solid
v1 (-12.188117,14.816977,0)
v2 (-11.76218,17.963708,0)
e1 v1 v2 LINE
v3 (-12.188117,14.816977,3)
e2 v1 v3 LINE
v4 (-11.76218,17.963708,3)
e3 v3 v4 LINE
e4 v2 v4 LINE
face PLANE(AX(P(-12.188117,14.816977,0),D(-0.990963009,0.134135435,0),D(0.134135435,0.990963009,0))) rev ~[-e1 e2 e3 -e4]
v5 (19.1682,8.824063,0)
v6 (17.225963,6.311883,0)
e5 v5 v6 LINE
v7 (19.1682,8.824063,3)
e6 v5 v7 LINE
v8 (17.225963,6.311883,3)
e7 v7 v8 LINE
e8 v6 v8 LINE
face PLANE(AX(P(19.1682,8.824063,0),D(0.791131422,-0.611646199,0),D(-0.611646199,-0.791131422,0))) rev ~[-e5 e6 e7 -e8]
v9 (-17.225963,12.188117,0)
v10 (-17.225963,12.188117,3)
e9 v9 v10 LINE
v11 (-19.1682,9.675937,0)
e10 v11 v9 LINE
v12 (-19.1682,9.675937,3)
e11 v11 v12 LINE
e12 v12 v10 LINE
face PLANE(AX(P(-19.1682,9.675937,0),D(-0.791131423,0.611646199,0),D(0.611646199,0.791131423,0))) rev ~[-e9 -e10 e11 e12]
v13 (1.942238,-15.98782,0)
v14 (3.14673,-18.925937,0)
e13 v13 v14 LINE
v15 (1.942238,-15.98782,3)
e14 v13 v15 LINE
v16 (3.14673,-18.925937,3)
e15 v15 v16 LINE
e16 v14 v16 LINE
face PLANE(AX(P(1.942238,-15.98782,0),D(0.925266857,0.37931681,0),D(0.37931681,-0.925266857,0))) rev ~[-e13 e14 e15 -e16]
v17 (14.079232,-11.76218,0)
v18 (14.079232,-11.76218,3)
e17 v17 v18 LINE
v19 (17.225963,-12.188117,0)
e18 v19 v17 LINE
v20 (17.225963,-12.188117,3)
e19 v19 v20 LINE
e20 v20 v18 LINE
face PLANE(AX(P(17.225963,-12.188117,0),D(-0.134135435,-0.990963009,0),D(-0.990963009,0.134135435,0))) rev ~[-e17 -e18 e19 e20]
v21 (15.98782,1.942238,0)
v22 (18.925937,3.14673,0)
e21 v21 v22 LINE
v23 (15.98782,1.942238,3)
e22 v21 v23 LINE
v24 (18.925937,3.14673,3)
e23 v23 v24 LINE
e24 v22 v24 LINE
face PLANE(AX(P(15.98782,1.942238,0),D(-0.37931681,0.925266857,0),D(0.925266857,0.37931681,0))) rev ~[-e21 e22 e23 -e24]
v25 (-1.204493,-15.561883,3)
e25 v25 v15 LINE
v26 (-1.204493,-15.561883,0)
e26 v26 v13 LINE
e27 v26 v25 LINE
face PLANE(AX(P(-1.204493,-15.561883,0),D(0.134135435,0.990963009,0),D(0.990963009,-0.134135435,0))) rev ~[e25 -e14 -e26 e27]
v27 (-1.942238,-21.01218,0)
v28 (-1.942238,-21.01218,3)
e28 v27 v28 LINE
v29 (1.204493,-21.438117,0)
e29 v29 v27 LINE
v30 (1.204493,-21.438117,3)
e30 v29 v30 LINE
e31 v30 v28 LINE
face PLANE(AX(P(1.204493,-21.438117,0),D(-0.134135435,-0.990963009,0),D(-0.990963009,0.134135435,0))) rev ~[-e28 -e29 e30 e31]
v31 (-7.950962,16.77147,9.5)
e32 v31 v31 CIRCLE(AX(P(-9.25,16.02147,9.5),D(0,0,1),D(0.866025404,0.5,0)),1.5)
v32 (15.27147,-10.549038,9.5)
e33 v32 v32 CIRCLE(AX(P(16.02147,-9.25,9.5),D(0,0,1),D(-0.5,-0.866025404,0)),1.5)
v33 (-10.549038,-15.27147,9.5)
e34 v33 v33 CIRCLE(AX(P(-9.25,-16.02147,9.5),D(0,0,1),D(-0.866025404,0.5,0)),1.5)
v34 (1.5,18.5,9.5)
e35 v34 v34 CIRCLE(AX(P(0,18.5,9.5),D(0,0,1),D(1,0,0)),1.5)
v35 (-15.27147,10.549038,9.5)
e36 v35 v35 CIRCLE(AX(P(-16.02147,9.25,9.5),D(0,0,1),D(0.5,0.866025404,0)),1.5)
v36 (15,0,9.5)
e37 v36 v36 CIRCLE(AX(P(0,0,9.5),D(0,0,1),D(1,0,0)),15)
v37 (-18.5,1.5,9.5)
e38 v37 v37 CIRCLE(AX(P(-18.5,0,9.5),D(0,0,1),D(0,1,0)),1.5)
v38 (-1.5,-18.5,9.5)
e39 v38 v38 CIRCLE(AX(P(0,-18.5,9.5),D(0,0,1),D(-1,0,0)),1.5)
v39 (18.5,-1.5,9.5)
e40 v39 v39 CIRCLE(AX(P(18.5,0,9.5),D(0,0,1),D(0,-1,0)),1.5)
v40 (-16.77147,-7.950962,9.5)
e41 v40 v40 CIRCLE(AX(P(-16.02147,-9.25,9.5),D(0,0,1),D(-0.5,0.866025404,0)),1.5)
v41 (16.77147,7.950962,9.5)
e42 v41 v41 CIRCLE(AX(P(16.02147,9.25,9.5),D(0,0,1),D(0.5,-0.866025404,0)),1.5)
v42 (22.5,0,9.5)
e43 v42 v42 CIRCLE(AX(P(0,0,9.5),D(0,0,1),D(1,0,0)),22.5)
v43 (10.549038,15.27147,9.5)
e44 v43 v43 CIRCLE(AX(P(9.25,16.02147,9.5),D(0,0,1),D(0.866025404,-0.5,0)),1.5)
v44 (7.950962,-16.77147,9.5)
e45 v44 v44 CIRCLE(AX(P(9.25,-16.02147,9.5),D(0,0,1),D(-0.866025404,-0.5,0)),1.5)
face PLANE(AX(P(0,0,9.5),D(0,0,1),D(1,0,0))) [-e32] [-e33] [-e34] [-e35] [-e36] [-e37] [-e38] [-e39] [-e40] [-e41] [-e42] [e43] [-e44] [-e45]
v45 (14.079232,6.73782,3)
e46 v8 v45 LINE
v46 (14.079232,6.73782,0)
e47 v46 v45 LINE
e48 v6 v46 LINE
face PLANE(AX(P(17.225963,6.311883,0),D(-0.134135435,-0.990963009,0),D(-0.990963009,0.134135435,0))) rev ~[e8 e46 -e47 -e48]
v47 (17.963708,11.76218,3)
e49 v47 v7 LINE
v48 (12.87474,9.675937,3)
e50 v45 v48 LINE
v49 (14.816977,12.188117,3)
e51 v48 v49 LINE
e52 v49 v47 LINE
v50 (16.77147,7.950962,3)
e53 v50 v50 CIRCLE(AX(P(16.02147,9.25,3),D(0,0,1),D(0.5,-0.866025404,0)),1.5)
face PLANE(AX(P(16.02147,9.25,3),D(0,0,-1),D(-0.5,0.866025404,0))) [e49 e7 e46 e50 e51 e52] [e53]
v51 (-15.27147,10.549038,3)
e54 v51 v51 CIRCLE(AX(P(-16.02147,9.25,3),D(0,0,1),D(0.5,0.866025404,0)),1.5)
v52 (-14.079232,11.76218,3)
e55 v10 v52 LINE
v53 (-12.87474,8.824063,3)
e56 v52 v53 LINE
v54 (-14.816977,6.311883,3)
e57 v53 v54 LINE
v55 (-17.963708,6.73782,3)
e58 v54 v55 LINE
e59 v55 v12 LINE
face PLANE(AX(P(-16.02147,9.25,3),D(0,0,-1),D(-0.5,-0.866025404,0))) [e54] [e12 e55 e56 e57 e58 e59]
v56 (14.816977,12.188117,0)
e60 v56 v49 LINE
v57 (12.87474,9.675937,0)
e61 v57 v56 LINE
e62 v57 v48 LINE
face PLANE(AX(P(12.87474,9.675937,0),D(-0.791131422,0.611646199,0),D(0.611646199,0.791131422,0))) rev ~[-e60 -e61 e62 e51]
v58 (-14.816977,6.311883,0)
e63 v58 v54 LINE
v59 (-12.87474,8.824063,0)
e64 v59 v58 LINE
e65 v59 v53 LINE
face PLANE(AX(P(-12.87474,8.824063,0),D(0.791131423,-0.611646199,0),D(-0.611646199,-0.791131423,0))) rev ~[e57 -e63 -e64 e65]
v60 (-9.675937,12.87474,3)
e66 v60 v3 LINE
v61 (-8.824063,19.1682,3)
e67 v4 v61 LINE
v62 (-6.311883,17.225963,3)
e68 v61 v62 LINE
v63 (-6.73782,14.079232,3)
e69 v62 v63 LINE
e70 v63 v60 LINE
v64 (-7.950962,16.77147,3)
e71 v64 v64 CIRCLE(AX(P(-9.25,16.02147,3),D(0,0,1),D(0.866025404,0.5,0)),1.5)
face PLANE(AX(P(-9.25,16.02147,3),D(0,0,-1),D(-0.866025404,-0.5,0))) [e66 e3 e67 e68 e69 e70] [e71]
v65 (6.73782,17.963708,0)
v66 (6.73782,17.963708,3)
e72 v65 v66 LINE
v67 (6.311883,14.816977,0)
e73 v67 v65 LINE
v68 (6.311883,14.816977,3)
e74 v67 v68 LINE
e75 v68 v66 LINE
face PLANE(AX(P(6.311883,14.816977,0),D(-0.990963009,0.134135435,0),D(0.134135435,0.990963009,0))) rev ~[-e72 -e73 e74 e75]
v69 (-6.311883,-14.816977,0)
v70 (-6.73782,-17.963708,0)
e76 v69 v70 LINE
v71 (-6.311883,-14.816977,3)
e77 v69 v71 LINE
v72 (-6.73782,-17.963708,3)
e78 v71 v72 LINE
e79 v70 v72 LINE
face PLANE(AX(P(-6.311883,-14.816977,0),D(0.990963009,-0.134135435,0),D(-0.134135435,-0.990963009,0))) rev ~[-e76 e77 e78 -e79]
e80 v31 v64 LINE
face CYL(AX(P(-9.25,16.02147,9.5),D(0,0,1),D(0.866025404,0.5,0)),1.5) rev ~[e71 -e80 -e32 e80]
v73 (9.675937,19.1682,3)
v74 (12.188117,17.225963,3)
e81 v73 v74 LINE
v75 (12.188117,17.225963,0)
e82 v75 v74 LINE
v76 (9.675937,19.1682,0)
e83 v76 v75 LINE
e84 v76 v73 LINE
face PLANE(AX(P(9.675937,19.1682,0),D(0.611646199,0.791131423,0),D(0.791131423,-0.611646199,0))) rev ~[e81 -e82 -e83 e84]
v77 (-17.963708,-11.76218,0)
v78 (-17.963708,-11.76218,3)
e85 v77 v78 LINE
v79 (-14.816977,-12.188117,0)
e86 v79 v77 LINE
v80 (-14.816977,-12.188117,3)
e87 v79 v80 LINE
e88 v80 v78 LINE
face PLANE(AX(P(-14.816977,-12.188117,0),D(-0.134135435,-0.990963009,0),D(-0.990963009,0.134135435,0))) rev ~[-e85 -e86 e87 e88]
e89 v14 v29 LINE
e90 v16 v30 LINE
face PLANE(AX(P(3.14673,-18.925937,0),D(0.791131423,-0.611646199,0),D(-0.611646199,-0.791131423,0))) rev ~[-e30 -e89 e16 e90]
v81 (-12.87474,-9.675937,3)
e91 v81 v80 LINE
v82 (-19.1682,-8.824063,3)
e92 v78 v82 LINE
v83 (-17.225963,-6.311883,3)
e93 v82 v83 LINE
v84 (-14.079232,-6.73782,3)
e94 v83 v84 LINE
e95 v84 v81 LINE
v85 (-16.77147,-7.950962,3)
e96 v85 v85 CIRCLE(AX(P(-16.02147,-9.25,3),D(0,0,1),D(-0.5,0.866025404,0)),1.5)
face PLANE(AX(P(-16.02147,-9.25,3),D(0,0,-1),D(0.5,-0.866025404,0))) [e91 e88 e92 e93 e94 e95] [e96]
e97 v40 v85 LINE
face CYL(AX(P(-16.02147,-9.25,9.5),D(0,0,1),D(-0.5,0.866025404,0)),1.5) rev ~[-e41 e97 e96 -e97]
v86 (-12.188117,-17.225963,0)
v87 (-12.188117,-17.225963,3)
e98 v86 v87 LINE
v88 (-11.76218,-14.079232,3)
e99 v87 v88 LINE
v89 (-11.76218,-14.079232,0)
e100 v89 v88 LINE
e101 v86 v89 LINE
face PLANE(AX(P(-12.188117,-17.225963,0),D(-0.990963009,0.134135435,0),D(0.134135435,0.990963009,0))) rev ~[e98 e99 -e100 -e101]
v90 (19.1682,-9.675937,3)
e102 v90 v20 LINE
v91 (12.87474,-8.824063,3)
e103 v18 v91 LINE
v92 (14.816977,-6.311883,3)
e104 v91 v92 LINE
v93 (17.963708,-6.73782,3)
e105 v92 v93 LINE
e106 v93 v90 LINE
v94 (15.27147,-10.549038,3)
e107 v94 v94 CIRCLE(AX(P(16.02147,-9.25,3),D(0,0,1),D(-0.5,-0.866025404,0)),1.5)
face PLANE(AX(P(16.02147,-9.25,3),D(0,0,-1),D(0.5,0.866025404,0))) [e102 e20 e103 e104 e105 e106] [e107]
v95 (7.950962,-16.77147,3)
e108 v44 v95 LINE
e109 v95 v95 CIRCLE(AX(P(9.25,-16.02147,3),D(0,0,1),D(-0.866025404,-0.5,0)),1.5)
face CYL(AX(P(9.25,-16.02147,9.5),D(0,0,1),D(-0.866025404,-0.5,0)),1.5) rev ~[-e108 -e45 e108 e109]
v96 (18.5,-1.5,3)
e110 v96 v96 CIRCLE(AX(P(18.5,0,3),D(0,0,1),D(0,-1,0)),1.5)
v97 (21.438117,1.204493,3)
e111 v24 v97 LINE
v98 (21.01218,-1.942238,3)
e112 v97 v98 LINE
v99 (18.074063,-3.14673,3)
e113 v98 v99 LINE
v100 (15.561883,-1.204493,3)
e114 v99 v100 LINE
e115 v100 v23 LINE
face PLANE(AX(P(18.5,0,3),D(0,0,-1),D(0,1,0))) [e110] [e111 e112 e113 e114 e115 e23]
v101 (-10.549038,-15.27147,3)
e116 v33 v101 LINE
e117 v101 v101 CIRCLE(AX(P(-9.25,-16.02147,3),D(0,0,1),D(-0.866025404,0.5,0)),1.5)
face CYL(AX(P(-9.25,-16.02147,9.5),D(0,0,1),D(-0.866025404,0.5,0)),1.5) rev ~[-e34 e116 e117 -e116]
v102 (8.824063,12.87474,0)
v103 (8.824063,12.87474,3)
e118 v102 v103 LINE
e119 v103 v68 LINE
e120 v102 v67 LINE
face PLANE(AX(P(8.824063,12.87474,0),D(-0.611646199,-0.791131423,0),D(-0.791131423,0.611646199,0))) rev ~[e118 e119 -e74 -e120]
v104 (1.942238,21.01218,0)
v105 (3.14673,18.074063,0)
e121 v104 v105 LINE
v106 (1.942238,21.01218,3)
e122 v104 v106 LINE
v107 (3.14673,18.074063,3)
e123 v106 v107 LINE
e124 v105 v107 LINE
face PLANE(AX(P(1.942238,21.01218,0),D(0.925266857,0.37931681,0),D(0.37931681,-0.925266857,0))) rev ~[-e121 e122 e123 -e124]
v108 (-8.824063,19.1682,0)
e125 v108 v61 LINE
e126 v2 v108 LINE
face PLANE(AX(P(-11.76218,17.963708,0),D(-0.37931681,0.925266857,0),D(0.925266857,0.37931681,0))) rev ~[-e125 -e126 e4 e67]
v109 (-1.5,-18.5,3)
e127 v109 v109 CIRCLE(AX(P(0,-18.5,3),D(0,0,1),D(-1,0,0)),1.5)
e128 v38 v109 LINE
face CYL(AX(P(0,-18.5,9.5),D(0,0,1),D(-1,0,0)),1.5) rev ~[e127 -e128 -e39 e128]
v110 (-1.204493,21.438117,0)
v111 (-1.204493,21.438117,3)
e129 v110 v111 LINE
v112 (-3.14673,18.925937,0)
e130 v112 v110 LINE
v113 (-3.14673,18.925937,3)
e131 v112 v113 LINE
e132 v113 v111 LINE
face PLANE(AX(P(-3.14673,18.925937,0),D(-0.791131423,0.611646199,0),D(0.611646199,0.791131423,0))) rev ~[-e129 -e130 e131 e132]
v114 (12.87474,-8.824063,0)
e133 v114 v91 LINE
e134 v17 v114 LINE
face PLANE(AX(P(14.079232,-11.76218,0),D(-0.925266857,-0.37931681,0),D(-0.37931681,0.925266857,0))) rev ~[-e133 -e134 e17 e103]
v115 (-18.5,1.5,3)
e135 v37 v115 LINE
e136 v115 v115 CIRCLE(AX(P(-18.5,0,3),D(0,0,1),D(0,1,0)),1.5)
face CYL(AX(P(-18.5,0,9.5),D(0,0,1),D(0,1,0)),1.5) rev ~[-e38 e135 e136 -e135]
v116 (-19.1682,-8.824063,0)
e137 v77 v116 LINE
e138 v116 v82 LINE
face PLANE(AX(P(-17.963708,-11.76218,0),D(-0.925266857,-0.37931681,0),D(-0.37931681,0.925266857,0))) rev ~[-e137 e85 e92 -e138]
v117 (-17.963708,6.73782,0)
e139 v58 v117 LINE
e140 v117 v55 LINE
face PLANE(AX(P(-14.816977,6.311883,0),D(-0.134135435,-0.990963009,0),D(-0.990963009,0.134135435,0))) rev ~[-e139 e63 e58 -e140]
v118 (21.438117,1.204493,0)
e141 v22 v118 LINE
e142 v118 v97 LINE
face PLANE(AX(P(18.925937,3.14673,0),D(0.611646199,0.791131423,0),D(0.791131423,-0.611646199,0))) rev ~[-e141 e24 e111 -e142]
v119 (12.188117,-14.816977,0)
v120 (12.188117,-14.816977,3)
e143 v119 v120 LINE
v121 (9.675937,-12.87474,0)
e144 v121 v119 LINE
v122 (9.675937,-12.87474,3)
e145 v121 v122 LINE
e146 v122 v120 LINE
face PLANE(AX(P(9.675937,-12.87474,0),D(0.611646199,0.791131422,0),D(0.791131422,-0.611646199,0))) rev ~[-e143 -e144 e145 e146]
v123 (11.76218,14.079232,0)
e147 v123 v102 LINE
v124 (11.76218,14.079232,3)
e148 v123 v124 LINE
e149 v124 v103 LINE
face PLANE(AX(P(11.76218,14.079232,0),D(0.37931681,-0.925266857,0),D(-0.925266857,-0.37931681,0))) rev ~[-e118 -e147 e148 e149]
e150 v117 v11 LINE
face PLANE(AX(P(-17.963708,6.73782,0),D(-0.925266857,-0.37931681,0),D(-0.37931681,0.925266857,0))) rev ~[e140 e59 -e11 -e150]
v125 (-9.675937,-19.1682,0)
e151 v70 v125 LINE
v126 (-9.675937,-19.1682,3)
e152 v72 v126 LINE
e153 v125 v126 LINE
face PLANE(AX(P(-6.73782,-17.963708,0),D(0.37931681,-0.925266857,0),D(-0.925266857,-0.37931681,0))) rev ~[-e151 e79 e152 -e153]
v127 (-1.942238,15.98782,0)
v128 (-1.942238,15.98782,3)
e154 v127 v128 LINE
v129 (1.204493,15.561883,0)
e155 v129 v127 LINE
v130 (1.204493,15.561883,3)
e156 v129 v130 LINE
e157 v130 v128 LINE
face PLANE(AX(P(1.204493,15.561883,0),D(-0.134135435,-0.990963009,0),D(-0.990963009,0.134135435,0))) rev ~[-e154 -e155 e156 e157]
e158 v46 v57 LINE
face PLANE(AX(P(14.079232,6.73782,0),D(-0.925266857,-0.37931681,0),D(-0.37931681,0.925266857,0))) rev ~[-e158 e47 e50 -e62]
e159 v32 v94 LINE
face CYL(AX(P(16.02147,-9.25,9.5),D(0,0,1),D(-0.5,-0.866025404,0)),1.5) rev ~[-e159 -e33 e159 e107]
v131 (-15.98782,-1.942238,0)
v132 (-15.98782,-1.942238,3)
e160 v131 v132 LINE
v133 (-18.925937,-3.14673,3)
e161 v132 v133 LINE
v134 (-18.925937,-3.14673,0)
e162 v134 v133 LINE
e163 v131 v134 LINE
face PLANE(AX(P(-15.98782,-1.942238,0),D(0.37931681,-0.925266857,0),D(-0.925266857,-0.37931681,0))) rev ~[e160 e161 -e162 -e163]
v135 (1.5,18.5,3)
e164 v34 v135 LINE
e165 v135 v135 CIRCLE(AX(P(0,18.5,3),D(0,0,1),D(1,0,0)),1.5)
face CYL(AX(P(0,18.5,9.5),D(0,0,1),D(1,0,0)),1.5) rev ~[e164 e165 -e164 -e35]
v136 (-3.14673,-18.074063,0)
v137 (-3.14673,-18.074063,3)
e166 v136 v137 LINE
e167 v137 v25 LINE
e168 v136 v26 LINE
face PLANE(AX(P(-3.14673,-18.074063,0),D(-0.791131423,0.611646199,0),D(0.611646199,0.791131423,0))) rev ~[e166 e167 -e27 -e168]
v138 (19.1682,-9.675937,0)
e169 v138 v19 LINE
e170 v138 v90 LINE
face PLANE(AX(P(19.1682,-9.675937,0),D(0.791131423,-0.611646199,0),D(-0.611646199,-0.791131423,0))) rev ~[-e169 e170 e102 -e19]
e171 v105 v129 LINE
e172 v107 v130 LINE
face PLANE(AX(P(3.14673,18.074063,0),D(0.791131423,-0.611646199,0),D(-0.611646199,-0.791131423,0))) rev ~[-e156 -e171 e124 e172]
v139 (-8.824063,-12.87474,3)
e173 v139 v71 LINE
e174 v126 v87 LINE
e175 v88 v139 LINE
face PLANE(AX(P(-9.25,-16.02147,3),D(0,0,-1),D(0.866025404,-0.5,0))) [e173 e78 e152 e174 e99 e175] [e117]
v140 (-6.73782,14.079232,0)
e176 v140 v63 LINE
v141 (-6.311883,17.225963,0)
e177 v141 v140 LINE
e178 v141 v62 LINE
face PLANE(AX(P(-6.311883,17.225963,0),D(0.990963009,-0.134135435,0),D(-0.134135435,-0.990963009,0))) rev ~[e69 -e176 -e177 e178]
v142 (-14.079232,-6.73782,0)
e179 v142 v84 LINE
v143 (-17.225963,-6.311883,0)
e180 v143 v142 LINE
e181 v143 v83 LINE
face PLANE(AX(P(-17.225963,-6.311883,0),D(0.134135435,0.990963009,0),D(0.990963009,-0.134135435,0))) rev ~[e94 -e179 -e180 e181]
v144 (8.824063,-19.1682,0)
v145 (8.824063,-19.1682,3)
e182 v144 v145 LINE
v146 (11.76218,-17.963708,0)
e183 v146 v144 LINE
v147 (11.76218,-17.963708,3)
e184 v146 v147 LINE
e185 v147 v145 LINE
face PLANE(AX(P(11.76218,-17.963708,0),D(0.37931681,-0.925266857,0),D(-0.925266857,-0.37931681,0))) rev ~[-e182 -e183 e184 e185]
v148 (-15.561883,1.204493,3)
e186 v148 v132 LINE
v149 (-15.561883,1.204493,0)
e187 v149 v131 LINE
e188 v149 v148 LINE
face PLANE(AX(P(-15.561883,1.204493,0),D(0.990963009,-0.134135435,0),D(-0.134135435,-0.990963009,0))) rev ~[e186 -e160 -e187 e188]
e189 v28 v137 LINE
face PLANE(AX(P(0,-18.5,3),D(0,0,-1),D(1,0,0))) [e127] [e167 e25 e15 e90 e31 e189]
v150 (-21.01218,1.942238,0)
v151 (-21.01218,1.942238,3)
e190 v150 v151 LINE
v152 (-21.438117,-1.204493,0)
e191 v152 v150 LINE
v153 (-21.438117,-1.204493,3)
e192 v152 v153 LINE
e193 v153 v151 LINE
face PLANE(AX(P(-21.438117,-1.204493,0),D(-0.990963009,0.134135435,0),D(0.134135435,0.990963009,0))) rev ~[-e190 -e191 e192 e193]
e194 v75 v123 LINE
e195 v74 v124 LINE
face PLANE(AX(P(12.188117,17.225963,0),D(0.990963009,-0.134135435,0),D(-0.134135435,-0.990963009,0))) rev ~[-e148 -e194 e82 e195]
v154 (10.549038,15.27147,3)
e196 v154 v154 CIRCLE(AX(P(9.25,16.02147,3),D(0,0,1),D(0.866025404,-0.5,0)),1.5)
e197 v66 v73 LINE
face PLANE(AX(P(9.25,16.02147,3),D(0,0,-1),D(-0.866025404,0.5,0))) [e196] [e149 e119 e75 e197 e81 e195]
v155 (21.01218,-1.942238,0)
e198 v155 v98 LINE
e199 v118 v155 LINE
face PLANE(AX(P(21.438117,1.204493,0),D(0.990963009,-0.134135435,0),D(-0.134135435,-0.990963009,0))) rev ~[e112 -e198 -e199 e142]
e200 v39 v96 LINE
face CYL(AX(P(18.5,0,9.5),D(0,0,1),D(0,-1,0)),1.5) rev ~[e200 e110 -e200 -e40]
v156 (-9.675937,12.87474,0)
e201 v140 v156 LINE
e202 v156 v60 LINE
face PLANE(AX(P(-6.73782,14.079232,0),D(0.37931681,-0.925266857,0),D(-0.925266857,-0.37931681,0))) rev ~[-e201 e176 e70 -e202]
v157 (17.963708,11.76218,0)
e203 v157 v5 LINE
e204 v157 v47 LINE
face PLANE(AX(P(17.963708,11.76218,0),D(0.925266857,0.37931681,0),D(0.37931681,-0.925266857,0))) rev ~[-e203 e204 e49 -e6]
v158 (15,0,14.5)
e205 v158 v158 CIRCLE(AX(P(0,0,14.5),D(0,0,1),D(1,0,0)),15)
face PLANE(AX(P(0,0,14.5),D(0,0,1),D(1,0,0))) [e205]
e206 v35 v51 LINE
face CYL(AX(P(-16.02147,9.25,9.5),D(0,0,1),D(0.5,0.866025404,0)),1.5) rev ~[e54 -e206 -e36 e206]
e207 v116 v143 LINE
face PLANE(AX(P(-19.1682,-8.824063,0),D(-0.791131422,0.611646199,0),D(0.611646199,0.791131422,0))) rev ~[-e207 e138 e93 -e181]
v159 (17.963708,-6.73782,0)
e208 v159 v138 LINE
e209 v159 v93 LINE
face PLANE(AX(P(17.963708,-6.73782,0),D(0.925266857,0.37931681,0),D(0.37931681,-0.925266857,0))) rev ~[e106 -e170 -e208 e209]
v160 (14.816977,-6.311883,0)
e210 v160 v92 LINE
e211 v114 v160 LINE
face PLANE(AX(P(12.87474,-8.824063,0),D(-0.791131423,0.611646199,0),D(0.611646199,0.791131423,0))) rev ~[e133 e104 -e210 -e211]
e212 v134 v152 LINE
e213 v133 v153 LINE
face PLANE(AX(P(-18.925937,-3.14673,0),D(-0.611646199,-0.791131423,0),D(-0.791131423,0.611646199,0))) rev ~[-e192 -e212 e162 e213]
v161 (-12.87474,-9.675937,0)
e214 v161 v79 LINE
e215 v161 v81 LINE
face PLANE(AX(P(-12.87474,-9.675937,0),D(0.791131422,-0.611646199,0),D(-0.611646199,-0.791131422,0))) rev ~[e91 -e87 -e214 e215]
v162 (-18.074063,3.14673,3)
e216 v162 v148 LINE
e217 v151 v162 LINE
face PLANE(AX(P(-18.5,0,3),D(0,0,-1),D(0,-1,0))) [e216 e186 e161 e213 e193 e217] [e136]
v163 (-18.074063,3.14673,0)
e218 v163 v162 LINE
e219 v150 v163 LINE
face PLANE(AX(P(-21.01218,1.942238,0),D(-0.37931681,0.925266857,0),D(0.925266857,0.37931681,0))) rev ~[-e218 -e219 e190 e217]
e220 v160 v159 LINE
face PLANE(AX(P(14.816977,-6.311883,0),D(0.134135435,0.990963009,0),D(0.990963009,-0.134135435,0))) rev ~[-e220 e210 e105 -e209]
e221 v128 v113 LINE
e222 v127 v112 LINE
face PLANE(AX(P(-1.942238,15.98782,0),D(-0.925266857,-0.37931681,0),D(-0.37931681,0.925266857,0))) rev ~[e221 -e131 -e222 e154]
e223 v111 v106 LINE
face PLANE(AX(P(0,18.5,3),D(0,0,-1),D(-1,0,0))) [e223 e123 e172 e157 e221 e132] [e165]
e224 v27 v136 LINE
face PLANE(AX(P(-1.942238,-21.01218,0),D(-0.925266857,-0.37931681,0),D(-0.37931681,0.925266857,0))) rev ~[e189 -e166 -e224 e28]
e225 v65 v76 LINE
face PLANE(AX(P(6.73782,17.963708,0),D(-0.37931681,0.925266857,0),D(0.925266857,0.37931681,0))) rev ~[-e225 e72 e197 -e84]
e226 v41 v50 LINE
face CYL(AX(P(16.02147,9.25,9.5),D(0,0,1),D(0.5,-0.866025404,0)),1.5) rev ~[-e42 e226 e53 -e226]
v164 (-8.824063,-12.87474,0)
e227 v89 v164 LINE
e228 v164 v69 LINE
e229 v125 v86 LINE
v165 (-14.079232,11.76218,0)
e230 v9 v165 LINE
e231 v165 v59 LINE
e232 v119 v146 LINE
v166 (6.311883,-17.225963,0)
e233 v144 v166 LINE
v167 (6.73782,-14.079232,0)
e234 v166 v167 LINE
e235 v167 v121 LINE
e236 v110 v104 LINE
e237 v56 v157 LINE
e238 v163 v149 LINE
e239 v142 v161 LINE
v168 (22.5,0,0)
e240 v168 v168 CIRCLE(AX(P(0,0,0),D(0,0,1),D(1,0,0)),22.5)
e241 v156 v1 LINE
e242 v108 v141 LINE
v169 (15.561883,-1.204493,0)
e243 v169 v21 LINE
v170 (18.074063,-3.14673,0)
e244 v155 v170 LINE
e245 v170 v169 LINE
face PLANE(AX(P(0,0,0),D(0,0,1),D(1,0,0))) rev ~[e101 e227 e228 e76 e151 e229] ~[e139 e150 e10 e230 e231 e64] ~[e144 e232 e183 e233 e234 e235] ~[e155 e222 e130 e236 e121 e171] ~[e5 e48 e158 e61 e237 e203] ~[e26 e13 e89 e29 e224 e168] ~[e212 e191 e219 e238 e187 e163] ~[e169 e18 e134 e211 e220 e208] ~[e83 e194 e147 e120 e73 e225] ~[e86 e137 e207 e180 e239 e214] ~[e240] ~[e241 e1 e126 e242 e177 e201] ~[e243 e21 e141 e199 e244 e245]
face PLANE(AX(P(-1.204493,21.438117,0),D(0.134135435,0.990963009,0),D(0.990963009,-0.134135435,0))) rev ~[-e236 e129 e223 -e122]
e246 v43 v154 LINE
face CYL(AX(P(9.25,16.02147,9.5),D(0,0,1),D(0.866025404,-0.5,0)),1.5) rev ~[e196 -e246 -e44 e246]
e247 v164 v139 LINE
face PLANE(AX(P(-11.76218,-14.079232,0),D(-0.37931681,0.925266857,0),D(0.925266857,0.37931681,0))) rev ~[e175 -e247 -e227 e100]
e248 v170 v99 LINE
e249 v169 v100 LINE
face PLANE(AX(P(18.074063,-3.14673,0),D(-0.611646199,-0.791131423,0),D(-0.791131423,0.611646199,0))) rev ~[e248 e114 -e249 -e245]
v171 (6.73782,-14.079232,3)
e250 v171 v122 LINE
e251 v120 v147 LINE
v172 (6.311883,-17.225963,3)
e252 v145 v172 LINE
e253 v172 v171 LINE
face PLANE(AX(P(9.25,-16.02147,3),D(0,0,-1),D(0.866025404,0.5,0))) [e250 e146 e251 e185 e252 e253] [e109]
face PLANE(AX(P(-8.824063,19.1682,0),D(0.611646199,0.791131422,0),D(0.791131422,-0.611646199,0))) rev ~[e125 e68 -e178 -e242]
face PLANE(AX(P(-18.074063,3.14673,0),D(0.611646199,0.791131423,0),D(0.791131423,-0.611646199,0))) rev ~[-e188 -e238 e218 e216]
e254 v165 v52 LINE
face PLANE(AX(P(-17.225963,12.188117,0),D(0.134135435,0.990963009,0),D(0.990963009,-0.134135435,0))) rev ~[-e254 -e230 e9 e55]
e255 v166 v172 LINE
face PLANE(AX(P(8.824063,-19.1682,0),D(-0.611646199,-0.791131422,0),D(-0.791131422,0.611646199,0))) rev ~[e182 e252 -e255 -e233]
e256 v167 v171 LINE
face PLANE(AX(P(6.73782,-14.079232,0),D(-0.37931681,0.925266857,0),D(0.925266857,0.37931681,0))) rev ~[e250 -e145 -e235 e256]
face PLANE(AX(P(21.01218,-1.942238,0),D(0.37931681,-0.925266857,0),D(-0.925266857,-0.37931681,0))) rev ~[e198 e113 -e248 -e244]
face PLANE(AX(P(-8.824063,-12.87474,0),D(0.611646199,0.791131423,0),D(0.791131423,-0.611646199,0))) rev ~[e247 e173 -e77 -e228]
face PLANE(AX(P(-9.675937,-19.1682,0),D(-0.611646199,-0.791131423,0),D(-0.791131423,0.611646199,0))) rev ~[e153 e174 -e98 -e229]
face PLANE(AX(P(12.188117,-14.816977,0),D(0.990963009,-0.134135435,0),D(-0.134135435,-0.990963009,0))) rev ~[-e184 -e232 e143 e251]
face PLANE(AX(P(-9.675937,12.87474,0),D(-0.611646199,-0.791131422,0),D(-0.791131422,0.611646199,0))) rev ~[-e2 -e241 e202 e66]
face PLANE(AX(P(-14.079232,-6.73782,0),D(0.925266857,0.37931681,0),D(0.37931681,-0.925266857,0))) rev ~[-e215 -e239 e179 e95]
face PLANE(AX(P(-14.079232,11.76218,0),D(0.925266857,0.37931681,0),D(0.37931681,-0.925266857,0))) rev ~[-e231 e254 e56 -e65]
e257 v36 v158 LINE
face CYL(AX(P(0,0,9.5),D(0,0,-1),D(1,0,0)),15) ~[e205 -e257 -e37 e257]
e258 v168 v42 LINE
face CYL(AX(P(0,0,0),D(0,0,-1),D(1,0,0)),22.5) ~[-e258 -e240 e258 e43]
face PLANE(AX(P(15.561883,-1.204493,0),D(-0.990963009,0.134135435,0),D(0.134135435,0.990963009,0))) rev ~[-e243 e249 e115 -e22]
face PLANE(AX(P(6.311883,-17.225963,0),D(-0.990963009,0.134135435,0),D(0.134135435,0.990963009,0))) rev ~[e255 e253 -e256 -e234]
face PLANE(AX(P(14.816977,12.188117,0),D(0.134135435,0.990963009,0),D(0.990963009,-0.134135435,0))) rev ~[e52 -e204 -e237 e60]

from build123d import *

# Parameters (mm, degrees)
SKETCH_1_R               = 22.5
EXTRUDE_1_DEPTH          = 9.5
SKETCH_2_R               = 15
EXTRUDE_2_DEPTH          = 5
SKETCH_3_R               = 1.5
CUT_EXTRUDE_1_DEPTH      = 5
SKETCH_5_R               = 1.5
CUT_EXTRUDE_2_DEPTH      = 34.207679835
CUT_EXTRUDE_6_DEPTH      = 3
PATTERN_CIRCULAR_1_COUNT = 12


with BuildPart() as part:
    # 草图1 → 凸台-拉伸1 (new body)
    with BuildSketch(Plane.XY):
        Circle(SKETCH_1_R)
    extrude(amount=EXTRUDE_1_DEPTH)

    # 草图2 → 凸台-拉伸2 (add)
    with BuildSketch(Plane.XY.offset(9.5)):
        Circle(SKETCH_2_R)
    extrude(amount=EXTRUDE_2_DEPTH)

    # 草图3 → 切除-拉伸1 (cut)
    with BuildSketch(Plane.XY.offset(9.5)):
        with Locations((0, 18.5)):
            Circle(SKETCH_3_R)
    cut_extrude_1 = extrude(amount=-CUT_EXTRUDE_1_DEPTH, mode=Mode.SUBTRACT)

    # 草图5 → 切除-拉伸2 (cut, through all)
    with BuildSketch(Plane.XY.offset(9.5)):
        with Locations((0, 18.5)):
            Circle(SKETCH_5_R)
    cut_extrude_2 = extrude(amount=-CUT_EXTRUDE_2_DEPTH, mode=Mode.SUBTRACT)

    # 草图9 → 切除-拉伸6 (cut)
    with BuildSketch(Plane(origin=(0, 0, 0), x_dir=(-1, 0, 0), z_dir=(0, 0, -1))):
        Polygon((1.204492644, 21.438116881), (-1.942237536, 21.012179669), (-3.14673018, 18.074062788), (-1.204492644, 15.561883119), (1.942237536, 15.987820331), (3.14673018, 18.925937212), align=None)
    cut_extrude_6 = extrude(amount=-CUT_EXTRUDE_6_DEPTH, mode=Mode.SUBTRACT)

    # 阵列(圆周)1: 切除-拉伸1, 切除-拉伸2, 切除-拉伸6 ×12 about axis
    pattern_circular_1_axis = Axis((0, 0, 0), (0, 0, 1))
    add([cut_extrude_1.rotate(pattern_circular_1_axis, i * 360 / PATTERN_CIRCULAR_1_COUNT) for i in range(1, PATTERN_CIRCULAR_1_COUNT)], mode=Mode.SUBTRACT)
    add([cut_extrude_2.rotate(pattern_circular_1_axis, i * 360 / PATTERN_CIRCULAR_1_COUNT) for i in range(1, PATTERN_CIRCULAR_1_COUNT)], mode=Mode.SUBTRACT)
    add([cut_extrude_6.rotate(pattern_circular_1_axis, i * 360 / PATTERN_CIRCULAR_1_COUNT) for i in range(1, PATTERN_CIRCULAR_1_COUNT)], mode=Mode.SUBTRACT)


solid = part.part
